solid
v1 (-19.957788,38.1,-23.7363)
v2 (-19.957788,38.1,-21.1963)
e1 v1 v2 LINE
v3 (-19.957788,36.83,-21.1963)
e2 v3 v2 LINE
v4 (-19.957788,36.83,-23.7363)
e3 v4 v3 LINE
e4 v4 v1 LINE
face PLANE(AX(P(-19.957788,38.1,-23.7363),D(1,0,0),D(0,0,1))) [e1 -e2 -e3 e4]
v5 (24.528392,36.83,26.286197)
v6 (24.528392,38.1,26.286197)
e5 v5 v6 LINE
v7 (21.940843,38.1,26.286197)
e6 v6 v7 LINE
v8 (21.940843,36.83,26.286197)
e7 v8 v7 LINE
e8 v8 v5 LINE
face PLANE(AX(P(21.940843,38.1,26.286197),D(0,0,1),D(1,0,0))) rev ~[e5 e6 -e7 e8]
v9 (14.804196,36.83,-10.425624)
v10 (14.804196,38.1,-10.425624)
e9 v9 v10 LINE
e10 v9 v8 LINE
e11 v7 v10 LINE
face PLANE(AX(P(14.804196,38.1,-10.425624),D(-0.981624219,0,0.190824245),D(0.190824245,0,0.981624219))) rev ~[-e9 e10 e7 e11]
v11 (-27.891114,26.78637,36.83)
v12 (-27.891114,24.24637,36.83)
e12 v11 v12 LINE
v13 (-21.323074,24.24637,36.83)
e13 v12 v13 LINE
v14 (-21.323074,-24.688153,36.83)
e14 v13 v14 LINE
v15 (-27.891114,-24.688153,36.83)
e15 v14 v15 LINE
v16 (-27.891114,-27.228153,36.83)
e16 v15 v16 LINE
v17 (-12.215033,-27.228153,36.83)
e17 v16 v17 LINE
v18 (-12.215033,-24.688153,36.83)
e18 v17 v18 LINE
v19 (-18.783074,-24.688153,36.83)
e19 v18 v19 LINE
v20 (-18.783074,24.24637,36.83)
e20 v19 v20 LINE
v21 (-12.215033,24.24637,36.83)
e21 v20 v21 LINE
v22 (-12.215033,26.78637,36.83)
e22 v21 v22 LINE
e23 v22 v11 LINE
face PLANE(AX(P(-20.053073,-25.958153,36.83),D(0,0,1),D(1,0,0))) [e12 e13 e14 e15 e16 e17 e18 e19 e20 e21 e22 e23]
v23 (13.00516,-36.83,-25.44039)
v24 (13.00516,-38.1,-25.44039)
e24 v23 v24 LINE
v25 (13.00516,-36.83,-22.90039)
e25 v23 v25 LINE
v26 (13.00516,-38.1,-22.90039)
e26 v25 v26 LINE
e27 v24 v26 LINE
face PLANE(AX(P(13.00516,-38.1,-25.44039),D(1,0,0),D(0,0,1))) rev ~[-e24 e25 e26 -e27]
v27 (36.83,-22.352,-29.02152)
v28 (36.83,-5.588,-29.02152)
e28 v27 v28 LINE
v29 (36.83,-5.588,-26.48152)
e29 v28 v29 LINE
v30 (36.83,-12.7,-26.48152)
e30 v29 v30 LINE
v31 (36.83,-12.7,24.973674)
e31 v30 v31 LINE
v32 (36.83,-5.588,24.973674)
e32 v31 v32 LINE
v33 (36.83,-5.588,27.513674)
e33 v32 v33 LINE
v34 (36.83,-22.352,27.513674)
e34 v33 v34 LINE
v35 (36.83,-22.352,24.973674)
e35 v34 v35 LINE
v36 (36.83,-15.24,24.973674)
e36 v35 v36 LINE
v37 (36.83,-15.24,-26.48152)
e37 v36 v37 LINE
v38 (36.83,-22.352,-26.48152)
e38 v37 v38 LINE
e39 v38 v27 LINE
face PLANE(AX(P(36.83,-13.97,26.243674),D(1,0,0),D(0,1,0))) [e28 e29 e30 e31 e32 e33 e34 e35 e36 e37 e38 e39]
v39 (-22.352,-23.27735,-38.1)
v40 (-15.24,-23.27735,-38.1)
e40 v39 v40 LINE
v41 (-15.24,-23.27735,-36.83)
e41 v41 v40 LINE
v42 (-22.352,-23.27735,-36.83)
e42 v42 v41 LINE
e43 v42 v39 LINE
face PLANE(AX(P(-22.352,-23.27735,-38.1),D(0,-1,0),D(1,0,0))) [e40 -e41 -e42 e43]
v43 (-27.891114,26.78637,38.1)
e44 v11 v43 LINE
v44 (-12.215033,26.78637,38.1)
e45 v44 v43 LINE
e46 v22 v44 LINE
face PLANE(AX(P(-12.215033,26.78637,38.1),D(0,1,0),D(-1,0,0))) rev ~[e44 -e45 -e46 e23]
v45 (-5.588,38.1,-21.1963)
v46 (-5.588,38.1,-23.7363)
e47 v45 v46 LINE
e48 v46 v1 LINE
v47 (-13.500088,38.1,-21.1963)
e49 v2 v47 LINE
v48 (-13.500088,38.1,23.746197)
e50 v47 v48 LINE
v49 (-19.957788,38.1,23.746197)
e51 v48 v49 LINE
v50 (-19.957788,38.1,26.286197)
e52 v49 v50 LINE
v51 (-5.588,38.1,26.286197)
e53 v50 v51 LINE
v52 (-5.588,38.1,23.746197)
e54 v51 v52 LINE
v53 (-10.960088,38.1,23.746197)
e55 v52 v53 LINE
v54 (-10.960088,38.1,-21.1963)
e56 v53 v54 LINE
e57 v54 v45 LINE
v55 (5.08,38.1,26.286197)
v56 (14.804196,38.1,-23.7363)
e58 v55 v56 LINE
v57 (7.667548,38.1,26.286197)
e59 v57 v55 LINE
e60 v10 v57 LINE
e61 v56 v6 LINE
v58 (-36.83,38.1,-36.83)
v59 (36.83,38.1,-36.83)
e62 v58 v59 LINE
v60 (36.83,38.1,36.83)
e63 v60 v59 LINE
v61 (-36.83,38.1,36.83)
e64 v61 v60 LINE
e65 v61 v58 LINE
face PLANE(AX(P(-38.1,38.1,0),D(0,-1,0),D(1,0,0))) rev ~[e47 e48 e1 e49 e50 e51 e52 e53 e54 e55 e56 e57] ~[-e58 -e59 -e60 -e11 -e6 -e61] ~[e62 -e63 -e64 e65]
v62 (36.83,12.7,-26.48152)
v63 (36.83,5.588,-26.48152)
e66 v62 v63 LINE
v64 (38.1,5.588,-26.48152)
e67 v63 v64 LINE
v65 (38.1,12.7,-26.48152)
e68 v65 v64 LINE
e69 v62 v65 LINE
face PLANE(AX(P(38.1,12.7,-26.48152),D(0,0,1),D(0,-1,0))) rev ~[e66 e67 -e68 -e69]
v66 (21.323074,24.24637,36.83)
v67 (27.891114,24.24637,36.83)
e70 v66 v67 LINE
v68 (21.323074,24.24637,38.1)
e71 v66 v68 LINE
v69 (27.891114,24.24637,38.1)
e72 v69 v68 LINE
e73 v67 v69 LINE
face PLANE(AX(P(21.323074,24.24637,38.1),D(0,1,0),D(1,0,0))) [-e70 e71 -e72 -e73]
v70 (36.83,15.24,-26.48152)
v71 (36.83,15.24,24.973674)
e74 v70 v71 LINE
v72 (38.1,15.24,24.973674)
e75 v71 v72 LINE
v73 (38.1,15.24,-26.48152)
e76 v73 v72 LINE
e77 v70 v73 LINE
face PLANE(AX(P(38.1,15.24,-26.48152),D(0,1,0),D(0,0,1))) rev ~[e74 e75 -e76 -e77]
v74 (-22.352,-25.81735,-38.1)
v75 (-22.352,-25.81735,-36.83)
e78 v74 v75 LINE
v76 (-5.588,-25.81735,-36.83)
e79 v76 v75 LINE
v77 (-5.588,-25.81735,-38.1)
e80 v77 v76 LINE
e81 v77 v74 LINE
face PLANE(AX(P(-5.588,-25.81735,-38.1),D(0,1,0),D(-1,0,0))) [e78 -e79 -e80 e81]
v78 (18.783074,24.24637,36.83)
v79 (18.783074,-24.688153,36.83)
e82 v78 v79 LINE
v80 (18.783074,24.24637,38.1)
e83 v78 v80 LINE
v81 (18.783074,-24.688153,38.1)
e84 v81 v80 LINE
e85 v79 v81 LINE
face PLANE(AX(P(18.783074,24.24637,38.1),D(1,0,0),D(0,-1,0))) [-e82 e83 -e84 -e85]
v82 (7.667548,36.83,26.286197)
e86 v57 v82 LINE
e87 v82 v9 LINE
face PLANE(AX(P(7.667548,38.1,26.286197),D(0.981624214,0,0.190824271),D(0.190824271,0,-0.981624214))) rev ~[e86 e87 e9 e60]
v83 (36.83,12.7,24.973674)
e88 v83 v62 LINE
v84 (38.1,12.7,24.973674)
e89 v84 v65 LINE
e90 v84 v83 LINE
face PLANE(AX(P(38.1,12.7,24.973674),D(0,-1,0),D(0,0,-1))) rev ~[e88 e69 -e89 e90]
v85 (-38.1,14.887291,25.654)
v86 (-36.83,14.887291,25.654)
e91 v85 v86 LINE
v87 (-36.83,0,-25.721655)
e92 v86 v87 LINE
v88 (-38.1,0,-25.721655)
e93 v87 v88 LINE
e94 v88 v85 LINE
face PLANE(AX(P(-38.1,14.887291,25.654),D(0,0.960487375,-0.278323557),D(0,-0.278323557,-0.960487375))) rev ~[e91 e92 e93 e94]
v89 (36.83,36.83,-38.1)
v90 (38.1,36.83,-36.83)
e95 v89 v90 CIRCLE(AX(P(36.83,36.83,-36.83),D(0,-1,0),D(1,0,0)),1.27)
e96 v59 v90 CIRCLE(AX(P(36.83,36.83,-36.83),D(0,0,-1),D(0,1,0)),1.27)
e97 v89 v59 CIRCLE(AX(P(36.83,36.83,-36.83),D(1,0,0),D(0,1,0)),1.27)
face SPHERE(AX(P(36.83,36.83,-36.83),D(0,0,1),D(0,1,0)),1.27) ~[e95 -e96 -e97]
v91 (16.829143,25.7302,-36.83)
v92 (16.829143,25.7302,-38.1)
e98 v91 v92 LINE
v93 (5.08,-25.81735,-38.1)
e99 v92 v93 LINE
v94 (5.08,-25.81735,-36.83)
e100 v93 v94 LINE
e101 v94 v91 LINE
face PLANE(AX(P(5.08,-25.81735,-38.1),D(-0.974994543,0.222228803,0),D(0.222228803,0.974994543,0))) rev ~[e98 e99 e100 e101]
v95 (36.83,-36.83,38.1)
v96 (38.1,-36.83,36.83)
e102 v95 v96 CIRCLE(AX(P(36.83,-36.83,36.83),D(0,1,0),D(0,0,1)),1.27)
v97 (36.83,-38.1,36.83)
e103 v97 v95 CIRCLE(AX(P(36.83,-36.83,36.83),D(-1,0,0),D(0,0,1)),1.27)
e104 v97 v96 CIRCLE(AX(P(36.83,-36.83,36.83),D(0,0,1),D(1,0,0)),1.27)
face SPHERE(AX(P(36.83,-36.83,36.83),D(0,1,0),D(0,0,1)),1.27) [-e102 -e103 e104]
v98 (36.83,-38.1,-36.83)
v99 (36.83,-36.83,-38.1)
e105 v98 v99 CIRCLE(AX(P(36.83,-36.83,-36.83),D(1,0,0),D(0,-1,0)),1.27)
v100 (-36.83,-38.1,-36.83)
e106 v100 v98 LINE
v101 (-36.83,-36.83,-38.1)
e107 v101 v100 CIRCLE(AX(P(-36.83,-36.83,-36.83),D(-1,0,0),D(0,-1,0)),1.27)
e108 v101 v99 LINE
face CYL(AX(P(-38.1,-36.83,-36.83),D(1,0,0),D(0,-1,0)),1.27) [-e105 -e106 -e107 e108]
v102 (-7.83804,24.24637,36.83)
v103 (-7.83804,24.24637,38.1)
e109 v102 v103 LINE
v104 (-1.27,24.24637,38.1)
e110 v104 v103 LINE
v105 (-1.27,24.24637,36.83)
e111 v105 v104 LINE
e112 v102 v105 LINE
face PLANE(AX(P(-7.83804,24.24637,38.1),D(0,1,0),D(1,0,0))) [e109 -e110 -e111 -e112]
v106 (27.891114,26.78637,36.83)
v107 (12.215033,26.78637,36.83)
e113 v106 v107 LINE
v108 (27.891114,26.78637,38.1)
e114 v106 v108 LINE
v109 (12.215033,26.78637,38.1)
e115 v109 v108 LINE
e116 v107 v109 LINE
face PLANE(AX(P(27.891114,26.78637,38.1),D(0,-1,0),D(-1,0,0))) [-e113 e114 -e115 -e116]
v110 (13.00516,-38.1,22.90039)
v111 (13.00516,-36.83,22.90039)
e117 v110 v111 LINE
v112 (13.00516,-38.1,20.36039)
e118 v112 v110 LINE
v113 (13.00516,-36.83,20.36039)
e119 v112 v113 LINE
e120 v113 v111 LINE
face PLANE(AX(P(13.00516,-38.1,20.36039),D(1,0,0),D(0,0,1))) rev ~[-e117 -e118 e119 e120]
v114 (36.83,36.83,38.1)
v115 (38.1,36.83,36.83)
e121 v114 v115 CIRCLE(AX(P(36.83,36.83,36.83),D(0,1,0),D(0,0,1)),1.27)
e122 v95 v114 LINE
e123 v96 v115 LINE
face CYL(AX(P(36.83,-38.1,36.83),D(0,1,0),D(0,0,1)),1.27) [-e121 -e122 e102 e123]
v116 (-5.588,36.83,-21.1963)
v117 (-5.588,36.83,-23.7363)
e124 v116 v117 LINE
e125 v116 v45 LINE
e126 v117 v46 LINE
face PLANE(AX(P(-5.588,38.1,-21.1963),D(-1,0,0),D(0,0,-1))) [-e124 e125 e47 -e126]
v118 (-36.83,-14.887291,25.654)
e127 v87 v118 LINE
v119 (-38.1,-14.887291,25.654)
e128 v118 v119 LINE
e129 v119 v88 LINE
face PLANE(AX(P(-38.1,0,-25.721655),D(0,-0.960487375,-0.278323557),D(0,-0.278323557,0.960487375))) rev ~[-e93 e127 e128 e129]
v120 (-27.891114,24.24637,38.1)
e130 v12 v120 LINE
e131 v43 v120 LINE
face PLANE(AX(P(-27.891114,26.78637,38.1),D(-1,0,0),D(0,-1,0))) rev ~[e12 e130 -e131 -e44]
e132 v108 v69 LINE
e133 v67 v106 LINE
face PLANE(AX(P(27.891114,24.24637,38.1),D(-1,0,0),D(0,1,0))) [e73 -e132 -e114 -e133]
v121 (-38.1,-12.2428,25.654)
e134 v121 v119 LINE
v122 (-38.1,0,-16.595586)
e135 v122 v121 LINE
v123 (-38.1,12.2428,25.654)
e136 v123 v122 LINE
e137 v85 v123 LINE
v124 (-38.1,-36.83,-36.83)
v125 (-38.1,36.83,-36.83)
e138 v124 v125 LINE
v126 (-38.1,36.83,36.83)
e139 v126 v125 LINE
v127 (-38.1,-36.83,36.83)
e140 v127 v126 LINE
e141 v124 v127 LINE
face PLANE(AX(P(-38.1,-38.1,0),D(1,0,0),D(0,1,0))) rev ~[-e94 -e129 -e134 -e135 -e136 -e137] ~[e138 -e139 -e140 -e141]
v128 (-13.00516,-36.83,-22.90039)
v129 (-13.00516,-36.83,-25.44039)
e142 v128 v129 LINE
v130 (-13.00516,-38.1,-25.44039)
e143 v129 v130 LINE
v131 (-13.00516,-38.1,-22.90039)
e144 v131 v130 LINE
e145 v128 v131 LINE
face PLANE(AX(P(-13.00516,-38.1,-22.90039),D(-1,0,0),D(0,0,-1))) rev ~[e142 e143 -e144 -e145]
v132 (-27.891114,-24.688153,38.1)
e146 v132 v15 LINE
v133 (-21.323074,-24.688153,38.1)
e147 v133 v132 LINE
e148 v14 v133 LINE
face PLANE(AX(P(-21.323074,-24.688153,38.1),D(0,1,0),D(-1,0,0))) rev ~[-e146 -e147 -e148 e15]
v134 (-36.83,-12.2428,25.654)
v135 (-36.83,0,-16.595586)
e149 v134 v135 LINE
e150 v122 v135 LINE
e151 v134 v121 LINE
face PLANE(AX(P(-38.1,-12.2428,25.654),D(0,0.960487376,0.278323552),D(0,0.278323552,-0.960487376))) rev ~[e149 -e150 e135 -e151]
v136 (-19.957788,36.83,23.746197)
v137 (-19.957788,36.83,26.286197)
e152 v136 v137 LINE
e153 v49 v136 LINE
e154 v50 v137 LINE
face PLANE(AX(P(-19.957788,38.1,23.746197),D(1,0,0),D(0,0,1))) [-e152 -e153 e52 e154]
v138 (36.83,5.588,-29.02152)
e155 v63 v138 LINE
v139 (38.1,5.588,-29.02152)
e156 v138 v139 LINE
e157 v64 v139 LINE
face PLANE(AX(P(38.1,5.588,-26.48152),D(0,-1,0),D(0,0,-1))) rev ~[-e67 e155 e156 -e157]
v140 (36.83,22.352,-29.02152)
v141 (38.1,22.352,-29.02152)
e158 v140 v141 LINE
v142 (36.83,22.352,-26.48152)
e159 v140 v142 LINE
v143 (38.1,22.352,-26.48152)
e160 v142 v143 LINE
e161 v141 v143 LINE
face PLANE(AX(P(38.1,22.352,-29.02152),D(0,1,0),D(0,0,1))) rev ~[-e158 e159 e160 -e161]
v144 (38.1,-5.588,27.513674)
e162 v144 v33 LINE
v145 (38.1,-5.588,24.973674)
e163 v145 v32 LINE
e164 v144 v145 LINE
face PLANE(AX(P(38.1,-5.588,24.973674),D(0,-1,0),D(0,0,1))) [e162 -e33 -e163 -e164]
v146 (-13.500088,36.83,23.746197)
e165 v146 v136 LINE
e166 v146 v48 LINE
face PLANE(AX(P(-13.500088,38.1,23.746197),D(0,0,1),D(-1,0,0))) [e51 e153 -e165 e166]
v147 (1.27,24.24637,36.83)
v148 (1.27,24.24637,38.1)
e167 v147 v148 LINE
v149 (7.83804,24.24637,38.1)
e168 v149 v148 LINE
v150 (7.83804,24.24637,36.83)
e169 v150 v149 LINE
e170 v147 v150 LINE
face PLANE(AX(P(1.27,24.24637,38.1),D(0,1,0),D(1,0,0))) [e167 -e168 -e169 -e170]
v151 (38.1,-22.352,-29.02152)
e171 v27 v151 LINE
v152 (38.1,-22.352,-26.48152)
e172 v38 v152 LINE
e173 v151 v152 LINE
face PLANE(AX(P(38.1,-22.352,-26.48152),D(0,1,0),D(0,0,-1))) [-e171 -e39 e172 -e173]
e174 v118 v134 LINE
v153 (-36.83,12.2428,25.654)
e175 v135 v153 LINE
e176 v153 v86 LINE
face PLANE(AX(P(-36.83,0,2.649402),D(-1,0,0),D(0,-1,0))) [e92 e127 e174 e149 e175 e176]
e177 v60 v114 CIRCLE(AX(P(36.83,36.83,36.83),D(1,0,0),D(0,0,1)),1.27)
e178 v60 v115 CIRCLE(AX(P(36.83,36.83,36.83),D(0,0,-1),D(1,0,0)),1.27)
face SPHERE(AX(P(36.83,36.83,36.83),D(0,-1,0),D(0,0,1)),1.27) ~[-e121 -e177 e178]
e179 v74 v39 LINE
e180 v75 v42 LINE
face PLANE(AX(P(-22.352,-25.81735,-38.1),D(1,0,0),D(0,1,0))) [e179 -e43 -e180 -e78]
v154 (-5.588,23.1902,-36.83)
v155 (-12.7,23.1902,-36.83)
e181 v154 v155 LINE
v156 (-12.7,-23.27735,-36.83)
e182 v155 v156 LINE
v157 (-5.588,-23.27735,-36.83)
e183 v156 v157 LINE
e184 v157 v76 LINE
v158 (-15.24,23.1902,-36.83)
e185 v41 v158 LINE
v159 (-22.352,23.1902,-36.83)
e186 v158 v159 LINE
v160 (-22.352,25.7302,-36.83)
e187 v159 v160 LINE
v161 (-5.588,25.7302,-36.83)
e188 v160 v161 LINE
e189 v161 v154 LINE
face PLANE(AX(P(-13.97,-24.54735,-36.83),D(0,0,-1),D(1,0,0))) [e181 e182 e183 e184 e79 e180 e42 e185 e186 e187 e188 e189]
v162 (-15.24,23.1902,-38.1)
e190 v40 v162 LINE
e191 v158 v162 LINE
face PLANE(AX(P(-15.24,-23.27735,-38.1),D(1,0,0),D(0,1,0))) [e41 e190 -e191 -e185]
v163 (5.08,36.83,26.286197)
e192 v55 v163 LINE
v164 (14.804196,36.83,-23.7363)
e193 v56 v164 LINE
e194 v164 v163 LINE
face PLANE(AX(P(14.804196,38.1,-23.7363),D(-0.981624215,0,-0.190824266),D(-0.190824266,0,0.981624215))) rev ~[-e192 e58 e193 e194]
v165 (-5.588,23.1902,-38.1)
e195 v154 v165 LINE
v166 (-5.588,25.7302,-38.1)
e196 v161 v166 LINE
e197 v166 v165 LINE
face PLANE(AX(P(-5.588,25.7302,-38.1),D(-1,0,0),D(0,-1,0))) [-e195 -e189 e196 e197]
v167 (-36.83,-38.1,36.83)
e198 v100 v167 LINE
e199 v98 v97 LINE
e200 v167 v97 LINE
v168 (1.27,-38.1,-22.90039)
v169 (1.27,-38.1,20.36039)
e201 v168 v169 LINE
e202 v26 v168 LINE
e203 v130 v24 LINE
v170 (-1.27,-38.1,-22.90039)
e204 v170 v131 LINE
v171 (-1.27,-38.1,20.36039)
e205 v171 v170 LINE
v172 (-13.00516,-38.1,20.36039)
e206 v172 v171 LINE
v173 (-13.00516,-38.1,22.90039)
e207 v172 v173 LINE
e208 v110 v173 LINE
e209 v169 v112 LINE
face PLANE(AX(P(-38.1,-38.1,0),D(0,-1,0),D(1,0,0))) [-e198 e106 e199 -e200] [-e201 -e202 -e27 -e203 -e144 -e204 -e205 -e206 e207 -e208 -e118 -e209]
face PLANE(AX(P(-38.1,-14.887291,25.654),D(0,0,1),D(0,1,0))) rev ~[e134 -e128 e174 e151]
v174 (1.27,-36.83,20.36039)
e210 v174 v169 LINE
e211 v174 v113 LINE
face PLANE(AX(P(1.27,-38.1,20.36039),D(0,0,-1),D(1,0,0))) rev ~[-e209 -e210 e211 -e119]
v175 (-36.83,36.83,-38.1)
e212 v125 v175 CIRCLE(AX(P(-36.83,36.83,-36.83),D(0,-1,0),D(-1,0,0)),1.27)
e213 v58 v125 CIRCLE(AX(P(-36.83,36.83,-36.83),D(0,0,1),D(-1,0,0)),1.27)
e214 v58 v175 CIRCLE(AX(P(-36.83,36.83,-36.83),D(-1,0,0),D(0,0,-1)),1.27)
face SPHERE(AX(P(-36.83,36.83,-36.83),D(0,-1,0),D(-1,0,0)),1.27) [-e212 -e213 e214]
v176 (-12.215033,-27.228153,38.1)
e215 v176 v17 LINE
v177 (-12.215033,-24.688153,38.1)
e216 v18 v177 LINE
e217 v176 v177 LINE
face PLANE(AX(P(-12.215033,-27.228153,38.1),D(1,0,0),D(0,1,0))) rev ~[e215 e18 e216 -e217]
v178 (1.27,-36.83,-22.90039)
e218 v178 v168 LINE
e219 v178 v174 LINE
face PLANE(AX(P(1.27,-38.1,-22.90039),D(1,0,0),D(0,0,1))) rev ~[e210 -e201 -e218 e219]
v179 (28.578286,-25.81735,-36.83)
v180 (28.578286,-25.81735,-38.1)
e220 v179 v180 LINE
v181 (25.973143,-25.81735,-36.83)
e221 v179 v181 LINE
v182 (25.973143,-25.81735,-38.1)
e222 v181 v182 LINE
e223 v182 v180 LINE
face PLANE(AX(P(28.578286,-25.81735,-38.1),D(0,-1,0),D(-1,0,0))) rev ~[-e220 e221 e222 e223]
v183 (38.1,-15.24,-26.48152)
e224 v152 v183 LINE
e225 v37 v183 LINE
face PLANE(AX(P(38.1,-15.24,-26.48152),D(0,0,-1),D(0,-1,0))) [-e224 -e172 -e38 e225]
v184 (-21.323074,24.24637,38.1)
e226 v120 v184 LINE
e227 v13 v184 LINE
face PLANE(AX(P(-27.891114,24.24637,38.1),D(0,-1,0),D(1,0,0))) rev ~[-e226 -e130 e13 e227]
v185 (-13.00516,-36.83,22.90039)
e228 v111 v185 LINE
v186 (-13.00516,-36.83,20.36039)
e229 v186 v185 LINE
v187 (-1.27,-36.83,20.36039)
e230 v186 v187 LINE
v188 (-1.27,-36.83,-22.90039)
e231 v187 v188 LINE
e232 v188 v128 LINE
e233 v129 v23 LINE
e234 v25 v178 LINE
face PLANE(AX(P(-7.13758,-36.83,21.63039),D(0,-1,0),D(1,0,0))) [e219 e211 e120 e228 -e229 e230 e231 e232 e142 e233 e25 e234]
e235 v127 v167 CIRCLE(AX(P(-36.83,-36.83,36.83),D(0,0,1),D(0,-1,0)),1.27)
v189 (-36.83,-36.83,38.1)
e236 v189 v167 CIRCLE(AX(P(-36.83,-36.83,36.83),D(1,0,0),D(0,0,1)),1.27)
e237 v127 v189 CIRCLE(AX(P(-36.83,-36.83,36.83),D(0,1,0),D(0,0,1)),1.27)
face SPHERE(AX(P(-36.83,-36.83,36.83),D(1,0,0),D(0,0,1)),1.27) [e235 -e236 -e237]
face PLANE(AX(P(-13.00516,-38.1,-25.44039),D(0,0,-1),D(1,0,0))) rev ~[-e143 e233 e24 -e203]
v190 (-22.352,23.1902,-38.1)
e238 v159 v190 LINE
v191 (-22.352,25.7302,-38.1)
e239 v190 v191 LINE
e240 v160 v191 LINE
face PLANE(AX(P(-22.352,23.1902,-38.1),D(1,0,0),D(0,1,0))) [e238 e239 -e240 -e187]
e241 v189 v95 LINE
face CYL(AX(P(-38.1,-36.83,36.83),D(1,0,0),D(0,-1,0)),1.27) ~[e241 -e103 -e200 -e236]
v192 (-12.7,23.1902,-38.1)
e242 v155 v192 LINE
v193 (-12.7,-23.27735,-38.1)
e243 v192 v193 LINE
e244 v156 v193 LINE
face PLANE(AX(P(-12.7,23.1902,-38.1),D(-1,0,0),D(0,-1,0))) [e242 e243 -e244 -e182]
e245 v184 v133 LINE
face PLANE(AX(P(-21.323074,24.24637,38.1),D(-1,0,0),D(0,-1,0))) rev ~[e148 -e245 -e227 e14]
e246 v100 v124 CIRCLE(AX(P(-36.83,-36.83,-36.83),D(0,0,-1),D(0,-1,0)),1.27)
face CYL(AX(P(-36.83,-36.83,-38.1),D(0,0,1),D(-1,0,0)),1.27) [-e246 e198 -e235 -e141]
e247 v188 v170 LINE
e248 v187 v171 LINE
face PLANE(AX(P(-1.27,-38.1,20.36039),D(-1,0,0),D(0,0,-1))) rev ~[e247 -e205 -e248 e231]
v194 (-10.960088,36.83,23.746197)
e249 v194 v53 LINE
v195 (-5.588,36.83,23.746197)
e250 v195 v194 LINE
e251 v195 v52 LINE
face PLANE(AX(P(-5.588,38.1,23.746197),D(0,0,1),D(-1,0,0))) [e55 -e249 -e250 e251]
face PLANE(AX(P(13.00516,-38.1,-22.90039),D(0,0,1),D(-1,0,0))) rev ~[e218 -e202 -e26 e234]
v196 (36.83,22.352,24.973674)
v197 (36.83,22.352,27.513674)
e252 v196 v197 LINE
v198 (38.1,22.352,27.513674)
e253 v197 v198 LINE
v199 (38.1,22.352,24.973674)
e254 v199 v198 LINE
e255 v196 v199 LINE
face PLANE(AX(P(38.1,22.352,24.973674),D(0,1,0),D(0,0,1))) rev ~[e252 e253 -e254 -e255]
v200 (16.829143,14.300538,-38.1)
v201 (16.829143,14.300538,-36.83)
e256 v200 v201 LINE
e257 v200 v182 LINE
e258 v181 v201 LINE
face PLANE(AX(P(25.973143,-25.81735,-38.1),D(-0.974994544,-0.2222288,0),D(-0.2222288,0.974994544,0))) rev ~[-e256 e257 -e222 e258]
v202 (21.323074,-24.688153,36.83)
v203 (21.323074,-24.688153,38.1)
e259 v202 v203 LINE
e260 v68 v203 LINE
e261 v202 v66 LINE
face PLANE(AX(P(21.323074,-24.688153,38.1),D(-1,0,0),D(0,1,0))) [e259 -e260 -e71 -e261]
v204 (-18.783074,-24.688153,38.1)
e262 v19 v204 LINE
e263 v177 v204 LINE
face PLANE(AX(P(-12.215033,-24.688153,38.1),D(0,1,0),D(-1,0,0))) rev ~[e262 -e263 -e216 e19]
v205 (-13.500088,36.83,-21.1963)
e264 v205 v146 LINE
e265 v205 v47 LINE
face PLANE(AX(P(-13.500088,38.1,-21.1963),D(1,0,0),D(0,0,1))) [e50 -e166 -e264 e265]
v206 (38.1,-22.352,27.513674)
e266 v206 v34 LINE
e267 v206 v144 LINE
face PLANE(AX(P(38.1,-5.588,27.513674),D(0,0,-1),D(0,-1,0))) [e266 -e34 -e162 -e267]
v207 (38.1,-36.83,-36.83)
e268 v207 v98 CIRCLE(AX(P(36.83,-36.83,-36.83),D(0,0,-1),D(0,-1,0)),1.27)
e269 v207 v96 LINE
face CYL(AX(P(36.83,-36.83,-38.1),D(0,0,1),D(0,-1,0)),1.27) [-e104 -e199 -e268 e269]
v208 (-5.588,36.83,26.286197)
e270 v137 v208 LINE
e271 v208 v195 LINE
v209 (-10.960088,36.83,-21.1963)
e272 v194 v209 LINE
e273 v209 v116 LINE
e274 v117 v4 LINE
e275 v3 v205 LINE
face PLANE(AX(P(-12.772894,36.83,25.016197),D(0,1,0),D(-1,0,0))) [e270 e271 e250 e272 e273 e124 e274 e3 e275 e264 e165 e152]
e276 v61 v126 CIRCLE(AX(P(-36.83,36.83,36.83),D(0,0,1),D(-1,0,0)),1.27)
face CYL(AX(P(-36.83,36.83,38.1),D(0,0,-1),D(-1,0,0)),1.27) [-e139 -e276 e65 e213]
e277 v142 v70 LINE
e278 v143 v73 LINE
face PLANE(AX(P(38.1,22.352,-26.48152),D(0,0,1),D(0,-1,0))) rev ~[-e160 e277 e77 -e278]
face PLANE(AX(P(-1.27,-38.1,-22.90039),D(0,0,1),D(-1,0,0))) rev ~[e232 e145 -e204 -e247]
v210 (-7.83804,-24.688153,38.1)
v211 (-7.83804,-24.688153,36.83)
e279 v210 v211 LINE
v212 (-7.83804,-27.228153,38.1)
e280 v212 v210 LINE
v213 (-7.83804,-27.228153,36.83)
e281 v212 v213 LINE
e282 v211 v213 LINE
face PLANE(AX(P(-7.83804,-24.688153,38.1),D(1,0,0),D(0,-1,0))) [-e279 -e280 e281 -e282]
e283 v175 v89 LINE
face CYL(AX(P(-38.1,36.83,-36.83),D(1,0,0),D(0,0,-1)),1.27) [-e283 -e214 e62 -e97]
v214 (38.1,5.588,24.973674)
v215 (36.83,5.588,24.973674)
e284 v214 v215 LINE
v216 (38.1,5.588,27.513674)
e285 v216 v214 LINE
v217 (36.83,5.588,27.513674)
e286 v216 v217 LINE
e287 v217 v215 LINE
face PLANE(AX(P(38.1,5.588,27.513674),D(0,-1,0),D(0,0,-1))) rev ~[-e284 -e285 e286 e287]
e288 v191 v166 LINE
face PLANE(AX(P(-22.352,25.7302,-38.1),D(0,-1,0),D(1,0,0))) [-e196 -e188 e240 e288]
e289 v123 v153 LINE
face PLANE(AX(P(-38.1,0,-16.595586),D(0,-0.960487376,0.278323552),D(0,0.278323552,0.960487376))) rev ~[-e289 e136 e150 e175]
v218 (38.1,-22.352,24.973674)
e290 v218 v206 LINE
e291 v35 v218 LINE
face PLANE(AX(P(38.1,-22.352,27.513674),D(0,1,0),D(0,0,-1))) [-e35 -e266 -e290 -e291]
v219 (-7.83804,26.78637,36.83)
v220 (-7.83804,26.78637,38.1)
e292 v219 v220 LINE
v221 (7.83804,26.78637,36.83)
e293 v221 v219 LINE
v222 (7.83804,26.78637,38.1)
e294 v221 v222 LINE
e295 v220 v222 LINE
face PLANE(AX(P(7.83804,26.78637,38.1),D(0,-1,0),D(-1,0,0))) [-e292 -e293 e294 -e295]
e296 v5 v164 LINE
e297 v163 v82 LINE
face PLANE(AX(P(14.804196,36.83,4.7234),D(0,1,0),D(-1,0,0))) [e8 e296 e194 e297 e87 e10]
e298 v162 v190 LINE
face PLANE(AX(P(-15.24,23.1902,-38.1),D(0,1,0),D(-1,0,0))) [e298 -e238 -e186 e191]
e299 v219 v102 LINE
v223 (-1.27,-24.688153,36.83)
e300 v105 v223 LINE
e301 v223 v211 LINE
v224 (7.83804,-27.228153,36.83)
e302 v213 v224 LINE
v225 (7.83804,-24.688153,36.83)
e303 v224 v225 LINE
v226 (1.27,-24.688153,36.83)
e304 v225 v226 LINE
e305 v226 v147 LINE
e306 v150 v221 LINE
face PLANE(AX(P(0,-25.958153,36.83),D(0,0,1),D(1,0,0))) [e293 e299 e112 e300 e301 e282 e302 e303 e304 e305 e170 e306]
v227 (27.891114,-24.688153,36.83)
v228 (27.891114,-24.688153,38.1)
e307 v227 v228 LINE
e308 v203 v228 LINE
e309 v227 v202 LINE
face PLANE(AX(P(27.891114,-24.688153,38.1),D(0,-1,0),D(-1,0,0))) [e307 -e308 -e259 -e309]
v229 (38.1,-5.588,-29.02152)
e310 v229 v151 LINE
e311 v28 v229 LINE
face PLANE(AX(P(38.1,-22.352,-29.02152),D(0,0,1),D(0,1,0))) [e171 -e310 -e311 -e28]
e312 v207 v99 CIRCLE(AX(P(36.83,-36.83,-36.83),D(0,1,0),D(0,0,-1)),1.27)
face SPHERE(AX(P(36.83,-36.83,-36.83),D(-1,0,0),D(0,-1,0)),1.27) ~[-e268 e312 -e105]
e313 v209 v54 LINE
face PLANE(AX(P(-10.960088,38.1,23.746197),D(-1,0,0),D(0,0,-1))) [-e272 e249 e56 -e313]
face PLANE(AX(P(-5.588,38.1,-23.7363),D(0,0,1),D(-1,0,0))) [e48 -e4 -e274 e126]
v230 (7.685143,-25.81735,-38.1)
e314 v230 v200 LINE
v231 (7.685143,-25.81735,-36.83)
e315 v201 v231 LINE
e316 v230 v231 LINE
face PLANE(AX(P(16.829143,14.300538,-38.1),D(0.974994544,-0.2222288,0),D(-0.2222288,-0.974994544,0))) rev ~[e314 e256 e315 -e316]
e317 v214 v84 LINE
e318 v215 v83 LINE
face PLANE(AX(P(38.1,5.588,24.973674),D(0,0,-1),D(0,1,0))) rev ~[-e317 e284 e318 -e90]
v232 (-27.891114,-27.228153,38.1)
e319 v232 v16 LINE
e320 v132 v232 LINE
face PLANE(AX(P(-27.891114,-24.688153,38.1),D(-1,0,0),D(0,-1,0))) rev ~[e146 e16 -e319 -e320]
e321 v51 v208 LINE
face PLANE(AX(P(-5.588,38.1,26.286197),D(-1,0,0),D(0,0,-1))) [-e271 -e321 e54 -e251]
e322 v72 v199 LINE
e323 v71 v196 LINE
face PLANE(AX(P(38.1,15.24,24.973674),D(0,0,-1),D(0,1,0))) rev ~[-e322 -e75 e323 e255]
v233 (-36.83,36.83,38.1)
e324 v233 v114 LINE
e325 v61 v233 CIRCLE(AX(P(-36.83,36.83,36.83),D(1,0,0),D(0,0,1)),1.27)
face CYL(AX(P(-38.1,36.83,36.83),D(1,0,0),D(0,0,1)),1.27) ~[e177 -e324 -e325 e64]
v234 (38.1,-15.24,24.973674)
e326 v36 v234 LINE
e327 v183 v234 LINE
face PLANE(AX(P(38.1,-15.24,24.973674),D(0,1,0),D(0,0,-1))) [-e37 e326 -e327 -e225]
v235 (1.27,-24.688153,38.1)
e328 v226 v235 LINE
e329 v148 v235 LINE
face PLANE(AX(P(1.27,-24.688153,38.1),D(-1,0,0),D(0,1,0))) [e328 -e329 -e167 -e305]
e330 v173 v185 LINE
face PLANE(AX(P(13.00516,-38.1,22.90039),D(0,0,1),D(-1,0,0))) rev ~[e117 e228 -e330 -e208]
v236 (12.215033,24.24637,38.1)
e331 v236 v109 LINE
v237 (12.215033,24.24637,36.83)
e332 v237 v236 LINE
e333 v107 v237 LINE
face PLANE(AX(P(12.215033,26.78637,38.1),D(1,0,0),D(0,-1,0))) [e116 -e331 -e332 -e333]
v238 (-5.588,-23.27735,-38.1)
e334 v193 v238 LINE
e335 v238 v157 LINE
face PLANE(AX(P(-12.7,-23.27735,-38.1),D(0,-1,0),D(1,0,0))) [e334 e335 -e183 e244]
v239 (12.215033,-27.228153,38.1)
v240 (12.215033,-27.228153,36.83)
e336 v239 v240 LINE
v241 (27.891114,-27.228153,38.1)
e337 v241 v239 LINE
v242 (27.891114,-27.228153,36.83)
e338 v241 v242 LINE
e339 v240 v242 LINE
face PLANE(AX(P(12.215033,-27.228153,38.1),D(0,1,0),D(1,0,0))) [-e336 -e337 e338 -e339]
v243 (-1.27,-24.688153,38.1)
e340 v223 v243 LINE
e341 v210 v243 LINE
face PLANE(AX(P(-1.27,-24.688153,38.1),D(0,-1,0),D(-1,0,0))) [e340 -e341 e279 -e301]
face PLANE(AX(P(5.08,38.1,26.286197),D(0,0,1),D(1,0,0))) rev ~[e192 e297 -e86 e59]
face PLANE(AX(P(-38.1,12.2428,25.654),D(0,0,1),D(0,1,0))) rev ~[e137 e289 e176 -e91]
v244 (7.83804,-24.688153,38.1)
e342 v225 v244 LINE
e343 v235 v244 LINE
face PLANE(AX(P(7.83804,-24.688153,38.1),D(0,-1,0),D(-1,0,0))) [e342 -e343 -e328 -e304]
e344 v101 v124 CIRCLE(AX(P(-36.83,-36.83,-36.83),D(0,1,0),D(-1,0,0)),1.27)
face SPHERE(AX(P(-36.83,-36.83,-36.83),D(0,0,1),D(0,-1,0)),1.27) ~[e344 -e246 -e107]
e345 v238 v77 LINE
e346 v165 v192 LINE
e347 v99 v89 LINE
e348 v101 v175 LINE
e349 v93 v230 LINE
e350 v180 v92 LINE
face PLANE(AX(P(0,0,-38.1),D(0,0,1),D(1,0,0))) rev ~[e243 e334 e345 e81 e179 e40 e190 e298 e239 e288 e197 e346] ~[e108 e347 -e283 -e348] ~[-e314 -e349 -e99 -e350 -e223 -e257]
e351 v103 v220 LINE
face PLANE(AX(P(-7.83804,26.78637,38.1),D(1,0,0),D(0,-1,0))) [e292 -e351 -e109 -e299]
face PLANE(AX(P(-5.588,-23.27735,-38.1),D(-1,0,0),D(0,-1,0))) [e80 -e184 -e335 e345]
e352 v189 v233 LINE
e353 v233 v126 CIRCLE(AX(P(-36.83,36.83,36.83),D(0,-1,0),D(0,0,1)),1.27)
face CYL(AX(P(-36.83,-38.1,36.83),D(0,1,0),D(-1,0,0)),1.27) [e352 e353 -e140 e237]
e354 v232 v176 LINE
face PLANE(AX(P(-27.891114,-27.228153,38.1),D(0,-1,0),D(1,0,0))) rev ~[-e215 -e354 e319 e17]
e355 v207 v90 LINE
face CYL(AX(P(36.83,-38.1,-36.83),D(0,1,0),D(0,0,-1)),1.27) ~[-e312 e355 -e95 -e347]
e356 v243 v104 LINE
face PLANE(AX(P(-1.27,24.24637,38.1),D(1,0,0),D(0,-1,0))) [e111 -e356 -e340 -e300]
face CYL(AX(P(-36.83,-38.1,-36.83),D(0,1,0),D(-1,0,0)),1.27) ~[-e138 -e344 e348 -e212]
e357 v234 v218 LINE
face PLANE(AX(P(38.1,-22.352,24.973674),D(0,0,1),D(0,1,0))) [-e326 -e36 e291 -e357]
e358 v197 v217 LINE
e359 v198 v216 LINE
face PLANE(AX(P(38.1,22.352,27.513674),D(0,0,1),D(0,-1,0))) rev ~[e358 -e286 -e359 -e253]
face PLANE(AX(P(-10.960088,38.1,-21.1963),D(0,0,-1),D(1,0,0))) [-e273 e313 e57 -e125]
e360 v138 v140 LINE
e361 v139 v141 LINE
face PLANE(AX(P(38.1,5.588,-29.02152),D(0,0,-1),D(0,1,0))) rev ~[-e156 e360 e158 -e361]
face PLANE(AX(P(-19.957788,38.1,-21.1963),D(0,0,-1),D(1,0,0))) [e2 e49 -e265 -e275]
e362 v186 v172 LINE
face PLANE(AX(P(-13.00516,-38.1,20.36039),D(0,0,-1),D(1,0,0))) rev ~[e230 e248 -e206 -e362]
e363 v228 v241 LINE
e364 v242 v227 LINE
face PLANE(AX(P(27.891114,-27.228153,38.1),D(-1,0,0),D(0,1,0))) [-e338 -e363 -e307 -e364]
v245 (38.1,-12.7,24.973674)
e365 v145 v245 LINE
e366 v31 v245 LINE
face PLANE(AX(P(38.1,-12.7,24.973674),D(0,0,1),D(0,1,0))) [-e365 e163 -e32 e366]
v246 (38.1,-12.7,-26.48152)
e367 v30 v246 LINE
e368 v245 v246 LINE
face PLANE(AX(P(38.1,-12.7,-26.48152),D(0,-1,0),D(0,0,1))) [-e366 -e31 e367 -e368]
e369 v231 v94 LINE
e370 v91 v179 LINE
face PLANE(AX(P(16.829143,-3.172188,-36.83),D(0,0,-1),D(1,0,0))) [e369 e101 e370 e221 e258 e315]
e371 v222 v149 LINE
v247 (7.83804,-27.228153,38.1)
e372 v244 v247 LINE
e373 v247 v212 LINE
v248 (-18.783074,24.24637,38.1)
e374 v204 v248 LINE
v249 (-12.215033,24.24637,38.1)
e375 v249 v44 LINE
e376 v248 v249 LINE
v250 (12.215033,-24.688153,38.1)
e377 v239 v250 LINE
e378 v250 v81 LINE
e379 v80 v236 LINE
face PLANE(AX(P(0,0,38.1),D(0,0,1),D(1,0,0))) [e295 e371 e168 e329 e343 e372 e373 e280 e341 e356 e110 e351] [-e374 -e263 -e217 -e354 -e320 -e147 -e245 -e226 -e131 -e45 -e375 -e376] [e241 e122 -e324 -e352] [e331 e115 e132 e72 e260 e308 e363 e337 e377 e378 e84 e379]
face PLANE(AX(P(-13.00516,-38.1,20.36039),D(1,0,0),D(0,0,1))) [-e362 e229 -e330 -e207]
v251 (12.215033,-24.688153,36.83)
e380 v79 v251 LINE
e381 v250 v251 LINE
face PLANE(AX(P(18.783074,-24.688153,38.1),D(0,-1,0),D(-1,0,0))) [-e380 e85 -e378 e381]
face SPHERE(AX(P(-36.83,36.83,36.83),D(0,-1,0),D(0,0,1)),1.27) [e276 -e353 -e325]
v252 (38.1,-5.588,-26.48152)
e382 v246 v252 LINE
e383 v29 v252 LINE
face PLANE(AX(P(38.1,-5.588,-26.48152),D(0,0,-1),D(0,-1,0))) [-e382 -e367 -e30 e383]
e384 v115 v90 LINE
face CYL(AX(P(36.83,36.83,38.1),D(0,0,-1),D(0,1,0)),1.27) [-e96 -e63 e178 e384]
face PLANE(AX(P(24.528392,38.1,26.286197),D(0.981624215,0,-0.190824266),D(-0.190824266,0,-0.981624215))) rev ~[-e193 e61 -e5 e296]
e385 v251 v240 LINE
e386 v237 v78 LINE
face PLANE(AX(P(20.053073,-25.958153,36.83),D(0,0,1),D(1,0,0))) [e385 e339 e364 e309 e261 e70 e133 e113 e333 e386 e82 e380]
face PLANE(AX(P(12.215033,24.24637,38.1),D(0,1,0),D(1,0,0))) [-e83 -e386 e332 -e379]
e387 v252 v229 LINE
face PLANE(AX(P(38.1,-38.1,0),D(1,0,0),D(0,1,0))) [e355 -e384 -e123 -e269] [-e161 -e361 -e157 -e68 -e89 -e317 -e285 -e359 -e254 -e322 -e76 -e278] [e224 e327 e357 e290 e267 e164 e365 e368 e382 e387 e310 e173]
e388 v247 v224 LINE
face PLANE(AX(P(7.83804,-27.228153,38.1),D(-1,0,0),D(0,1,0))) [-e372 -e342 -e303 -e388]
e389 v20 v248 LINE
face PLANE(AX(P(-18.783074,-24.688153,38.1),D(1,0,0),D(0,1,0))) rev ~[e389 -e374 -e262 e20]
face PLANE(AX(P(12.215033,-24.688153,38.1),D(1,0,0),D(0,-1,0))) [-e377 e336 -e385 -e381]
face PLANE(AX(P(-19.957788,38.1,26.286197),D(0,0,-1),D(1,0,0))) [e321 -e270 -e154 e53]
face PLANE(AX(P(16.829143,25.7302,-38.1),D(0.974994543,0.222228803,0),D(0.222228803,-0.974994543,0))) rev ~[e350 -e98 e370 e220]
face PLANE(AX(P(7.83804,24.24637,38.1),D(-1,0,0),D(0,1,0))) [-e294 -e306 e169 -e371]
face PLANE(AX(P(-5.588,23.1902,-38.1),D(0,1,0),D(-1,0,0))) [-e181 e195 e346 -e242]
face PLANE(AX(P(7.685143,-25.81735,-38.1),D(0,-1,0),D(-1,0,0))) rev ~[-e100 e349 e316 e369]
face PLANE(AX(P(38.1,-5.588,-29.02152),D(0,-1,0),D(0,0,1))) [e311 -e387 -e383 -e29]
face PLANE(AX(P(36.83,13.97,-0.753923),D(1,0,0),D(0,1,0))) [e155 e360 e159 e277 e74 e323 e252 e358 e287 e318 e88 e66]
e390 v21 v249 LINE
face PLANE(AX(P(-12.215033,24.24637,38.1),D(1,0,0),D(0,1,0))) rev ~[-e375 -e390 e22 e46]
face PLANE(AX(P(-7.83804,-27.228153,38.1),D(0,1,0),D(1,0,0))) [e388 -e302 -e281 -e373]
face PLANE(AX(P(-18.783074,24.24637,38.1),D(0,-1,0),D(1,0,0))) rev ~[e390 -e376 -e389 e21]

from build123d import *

# Parameters (mm, degrees)
F0_W      = 76.2
F0_H      = 76.2
F1_DEPTH  = 38.1
F2_W      = 11.73516
F2_H      = 2.54
F3_DEPTH  = 1.27
F5_DEPTH  = 1.27
F7_DEPTH  = 1.27
F9_DEPTH  = 1.27
F11_DEPTH = 1.27
F13_DEPTH = 1.27
F14_R     = 1.27


with BuildPart() as f1:
    # F0 (on Top) → F1 (new body, symmetric)
    with BuildSketch(Plane.XY):
        Rectangle(F0_W, F0_H)
    extrude(amount=F1_DEPTH, both=True)

    # F2 (on face) → F3 (cut, symmetric)
    with BuildSketch(Plane.XZ.offset(38.1)):
        with Locations((-7.13758, 21.63039)):
            Rectangle(F2_W, F2_H)
        Polygon((0, 22.90039), (-1.27, 22.90039), (-1.27, 20.36039), (0, 20.36039), (1.27, 20.36039), (1.27, 22.90039), align=None)
        Polygon((0, 20.36039), (-1.27, 20.36039), (-1.27, 0), (-1.27, -22.90039), (0, -22.90039), (1.27, -22.90039), (1.27, 0), (1.27, 20.36039), align=None)
        with Locations((7.13758, 21.63039)):
            Rectangle(F2_W, F2_H)
        Polygon((0, -22.90039), (-1.27, -22.90039), (-13.00516, -22.90039), (-13.00516, -25.44039), (0, -25.44039), (13.00516, -25.44039), (13.00516, -22.90039), (1.27, -22.90039), align=None)
    extrude(amount=F3_DEPTH, both=True, mode=Mode.SUBTRACT)

    # F4 (on face) → F5 (cut, symmetric)
    with BuildSketch(Plane(origin=(0, 38.1, 0), x_dir=(-1, 0, 0), z_dir=(0, 1, 0))):
        Polygon((5.588, 26.286197), (5.588, 23.746197), (10.960088, 23.746197), (12.230088, 23.746197), (13.500088, 23.746197), (19.957788, 23.746197), (19.957788, 26.286197), (12.230088, 26.286197), align=None)
        Polygon((12.230088, 23.746197), (10.960088, 23.746197), (10.960088, -21.1963), (12.230088, -21.1963), (13.500088, -21.1963), (13.500088, 23.746197), align=None)
        Polygon((12.230088, -21.1963), (10.960088, -21.1963), (5.588, -21.1963), (5.588, -23.7363), (12.230088, -23.7363), (19.957788, -23.7363), (19.957788, -21.1963), (13.500088, -21.1963), align=None)
        Polygon((-7.667548, 26.286197), (-14.804196, -10.425624), (-21.940843, 26.286197), (-24.528392, 26.286197), (-14.804196, -23.7363), (-5.08, 26.286197), align=None)
    extrude(amount=F5_DEPTH, both=True, mode=Mode.SUBTRACT)

    # F6 (on face) → F7 (cut, symmetric)
    with BuildSketch(Plane(origin=(-38.1, 0, 0), x_dir=(0, -1, 0), z_dir=(-1, 0, 0))):
        Polygon((-14.887291, 25.654), (0, -25.721655), (14.887291, 25.654), (12.2428, 25.654), (0, -16.595586), (-12.2428, 25.654), align=None)
    extrude(amount=F7_DEPTH, both=True, mode=Mode.SUBTRACT)

    # F8 (on face) → F9 (cut, symmetric)
    with BuildSketch(Plane.YZ.offset(38.1)):
        Polygon((-22.352, 27.513674), (-22.352, 24.973674), (-15.24, 24.973674), (-13.97, 24.973674), (-12.7, 24.973674), (-5.588, 24.973674), (-5.588, 27.513674), (-13.97, 27.513674), align=None)
        Polygon((-13.97, 24.973674), (-15.24, 24.973674), (-15.24, -26.48152), (-13.97, -26.48152), (-12.7, -26.48152), (-12.7, 24.973674), align=None)
        Polygon((-13.97, -26.48152), (-15.24, -26.48152), (-22.352, -26.48152), (-22.352, -29.02152), (-13.97, -29.02152), (-5.588, -29.02152), (-5.588, -26.48152), (-12.7, -26.48152), align=None)
        Polygon((13.97, 24.973674), (12.7, 24.973674), (12.7, -26.48152), (13.97, -26.48152), (15.24, -26.48152), (15.24, 24.973674), align=None)
        Polygon((5.588, 24.973674), (12.7, 24.973674), (13.97, 24.973674), (15.24, 24.973674), (22.352, 24.973674), (22.352, 27.513674), (13.97, 27.513674), (5.588, 27.513674), align=None)
        Polygon((13.97, -26.48152), (12.7, -26.48152), (5.588, -26.48152), (5.588, -29.02152), (13.97, -29.02152), (22.352, -29.02152), (22.352, -26.48152), (15.24, -26.48152), align=None)
    extrude(amount=F9_DEPTH, both=True, mode=Mode.SUBTRACT)

    # F10 (on face) → F11 (cut, symmetric)
    with BuildSketch(Plane(origin=(0, 0, -38.1), x_dir=(1, 0, 0), z_dir=(0, 0, -1))):
        Polygon((-22.352, 25.81735), (-22.352, 23.27735), (-15.24, 23.27735), (-13.97, 23.27735), (-12.7, 23.27735), (-5.588, 23.27735), (-5.588, 25.81735), (-13.97, 25.81735), align=None)
        Polygon((-13.97, 23.27735), (-15.24, 23.27735), (-15.24, -23.1902), (-13.97, -23.1902), (-12.7, -23.1902), (-12.7, 23.27735), align=None)
        Polygon((-13.97, -23.1902), (-15.24, -23.1902), (-22.352, -23.1902), (-22.352, -25.7302), (-13.97, -25.7302), (-5.588, -25.7302), (-5.588, -23.1902), (-12.7, -23.1902), align=None)
        Polygon((5.08, 25.81735), (16.829143, -25.7302), (28.578286, 25.81735), (25.973143, 25.81735), (16.829143, -14.300538), (7.685143, 25.81735), align=None)
    extrude(amount=F11_DEPTH, both=True, mode=Mode.SUBTRACT)

    # F12 (on face) → F13 (cut, symmetric)
    with BuildSketch(Plane.XY.offset(38.1)):
        Polygon((27.891114, -27.228153), (27.891114, -24.688153), (21.323074, -24.688153), (20.053074, -24.688153), (18.783074, -24.688153), (12.215033, -24.688153), (12.215033, -27.228153), (20.053074, -27.228153), align=None)
        Polygon((20.053074, -24.688153), (21.323074, -24.688153), (21.323074, 24.24637), (20.053074, 24.24637), (18.783074, 24.24637), (18.783074, -24.688153), align=None)
        Polygon((20.053074, 24.24637), (21.323074, 24.24637), (27.891114, 24.24637), (27.891114, 26.78637), (20.053074, 26.78637), (12.215033, 26.78637), (12.215033, 24.24637), (18.783074, 24.24637), align=None)
        Polygon((7.83804, -27.228153), (7.83804, -24.688153), (1.27, -24.688153), (0, -24.688153), (-1.27, -24.688153), (-7.83804, -24.688153), (-7.83804, -27.228153), (-0.004473, -27.228153), (0.004473, -27.228153), align=None)
        Polygon((0, -24.688153), (1.27, -24.688153), (1.27, 24.24637), (0, 24.24637), (-1.27, 24.24637), (-1.27, -24.688153), align=None)
        Polygon((0, 24.24637), (1.27, 24.24637), (7.83804, 24.24637), (7.83804, 26.78637), (0, 26.78637), (-7.83804, 26.78637), (-7.83804, 24.24637), (-1.27, 24.24637), align=None)
        Polygon((-20.053074, -27.228153), (-12.215033, -27.228153), (-12.215033, -24.688153), (-18.783074, -24.688153), (-20.053074, -24.688153), (-21.323074, -24.688153), (-27.891114, -24.688153), (-27.891114, -27.228153), align=None)
        Polygon((-20.053074, -24.688153), (-18.783074, -24.688153), (-18.783074, 24.24637), (-20.053074, 24.24637), (-21.323074, 24.24637), (-21.323074, -24.688153), align=None)
        Polygon((-20.053074, 24.24637), (-18.783074, 24.24637), (-12.215033, 24.24637), (-12.215033, 26.78637), (-20.053074, 26.78637), (-27.891114, 26.78637), (-27.891114, 24.24637), (-21.323074, 24.24637), align=None)
    extrude(amount=F13_DEPTH, both=True, mode=Mode.SUBTRACT)

    # F14
    f14_edges = [f1.edges().sort_by_distance(p)[0] for p in [
        (38.1, 0, 38.1),
        (0, -38.1, 38.1),
        (-38.1, 0, 38.1),
        (0, 38.1, 38.1),
        (-38.1, -38.1, 0),
        (0, -38.1, -38.1),
        (38.1, -38.1, 0),
        (-38.1, 0, -38.1),
        (-38.1, 38.1, 0),
        (38.1, 38.1, 0),
        (0, 38.1, -38.1),
        (38.1, 0, -38.1),
    ]]
    fillet(f14_edges, radius=F14_R)


solid = f1.part
